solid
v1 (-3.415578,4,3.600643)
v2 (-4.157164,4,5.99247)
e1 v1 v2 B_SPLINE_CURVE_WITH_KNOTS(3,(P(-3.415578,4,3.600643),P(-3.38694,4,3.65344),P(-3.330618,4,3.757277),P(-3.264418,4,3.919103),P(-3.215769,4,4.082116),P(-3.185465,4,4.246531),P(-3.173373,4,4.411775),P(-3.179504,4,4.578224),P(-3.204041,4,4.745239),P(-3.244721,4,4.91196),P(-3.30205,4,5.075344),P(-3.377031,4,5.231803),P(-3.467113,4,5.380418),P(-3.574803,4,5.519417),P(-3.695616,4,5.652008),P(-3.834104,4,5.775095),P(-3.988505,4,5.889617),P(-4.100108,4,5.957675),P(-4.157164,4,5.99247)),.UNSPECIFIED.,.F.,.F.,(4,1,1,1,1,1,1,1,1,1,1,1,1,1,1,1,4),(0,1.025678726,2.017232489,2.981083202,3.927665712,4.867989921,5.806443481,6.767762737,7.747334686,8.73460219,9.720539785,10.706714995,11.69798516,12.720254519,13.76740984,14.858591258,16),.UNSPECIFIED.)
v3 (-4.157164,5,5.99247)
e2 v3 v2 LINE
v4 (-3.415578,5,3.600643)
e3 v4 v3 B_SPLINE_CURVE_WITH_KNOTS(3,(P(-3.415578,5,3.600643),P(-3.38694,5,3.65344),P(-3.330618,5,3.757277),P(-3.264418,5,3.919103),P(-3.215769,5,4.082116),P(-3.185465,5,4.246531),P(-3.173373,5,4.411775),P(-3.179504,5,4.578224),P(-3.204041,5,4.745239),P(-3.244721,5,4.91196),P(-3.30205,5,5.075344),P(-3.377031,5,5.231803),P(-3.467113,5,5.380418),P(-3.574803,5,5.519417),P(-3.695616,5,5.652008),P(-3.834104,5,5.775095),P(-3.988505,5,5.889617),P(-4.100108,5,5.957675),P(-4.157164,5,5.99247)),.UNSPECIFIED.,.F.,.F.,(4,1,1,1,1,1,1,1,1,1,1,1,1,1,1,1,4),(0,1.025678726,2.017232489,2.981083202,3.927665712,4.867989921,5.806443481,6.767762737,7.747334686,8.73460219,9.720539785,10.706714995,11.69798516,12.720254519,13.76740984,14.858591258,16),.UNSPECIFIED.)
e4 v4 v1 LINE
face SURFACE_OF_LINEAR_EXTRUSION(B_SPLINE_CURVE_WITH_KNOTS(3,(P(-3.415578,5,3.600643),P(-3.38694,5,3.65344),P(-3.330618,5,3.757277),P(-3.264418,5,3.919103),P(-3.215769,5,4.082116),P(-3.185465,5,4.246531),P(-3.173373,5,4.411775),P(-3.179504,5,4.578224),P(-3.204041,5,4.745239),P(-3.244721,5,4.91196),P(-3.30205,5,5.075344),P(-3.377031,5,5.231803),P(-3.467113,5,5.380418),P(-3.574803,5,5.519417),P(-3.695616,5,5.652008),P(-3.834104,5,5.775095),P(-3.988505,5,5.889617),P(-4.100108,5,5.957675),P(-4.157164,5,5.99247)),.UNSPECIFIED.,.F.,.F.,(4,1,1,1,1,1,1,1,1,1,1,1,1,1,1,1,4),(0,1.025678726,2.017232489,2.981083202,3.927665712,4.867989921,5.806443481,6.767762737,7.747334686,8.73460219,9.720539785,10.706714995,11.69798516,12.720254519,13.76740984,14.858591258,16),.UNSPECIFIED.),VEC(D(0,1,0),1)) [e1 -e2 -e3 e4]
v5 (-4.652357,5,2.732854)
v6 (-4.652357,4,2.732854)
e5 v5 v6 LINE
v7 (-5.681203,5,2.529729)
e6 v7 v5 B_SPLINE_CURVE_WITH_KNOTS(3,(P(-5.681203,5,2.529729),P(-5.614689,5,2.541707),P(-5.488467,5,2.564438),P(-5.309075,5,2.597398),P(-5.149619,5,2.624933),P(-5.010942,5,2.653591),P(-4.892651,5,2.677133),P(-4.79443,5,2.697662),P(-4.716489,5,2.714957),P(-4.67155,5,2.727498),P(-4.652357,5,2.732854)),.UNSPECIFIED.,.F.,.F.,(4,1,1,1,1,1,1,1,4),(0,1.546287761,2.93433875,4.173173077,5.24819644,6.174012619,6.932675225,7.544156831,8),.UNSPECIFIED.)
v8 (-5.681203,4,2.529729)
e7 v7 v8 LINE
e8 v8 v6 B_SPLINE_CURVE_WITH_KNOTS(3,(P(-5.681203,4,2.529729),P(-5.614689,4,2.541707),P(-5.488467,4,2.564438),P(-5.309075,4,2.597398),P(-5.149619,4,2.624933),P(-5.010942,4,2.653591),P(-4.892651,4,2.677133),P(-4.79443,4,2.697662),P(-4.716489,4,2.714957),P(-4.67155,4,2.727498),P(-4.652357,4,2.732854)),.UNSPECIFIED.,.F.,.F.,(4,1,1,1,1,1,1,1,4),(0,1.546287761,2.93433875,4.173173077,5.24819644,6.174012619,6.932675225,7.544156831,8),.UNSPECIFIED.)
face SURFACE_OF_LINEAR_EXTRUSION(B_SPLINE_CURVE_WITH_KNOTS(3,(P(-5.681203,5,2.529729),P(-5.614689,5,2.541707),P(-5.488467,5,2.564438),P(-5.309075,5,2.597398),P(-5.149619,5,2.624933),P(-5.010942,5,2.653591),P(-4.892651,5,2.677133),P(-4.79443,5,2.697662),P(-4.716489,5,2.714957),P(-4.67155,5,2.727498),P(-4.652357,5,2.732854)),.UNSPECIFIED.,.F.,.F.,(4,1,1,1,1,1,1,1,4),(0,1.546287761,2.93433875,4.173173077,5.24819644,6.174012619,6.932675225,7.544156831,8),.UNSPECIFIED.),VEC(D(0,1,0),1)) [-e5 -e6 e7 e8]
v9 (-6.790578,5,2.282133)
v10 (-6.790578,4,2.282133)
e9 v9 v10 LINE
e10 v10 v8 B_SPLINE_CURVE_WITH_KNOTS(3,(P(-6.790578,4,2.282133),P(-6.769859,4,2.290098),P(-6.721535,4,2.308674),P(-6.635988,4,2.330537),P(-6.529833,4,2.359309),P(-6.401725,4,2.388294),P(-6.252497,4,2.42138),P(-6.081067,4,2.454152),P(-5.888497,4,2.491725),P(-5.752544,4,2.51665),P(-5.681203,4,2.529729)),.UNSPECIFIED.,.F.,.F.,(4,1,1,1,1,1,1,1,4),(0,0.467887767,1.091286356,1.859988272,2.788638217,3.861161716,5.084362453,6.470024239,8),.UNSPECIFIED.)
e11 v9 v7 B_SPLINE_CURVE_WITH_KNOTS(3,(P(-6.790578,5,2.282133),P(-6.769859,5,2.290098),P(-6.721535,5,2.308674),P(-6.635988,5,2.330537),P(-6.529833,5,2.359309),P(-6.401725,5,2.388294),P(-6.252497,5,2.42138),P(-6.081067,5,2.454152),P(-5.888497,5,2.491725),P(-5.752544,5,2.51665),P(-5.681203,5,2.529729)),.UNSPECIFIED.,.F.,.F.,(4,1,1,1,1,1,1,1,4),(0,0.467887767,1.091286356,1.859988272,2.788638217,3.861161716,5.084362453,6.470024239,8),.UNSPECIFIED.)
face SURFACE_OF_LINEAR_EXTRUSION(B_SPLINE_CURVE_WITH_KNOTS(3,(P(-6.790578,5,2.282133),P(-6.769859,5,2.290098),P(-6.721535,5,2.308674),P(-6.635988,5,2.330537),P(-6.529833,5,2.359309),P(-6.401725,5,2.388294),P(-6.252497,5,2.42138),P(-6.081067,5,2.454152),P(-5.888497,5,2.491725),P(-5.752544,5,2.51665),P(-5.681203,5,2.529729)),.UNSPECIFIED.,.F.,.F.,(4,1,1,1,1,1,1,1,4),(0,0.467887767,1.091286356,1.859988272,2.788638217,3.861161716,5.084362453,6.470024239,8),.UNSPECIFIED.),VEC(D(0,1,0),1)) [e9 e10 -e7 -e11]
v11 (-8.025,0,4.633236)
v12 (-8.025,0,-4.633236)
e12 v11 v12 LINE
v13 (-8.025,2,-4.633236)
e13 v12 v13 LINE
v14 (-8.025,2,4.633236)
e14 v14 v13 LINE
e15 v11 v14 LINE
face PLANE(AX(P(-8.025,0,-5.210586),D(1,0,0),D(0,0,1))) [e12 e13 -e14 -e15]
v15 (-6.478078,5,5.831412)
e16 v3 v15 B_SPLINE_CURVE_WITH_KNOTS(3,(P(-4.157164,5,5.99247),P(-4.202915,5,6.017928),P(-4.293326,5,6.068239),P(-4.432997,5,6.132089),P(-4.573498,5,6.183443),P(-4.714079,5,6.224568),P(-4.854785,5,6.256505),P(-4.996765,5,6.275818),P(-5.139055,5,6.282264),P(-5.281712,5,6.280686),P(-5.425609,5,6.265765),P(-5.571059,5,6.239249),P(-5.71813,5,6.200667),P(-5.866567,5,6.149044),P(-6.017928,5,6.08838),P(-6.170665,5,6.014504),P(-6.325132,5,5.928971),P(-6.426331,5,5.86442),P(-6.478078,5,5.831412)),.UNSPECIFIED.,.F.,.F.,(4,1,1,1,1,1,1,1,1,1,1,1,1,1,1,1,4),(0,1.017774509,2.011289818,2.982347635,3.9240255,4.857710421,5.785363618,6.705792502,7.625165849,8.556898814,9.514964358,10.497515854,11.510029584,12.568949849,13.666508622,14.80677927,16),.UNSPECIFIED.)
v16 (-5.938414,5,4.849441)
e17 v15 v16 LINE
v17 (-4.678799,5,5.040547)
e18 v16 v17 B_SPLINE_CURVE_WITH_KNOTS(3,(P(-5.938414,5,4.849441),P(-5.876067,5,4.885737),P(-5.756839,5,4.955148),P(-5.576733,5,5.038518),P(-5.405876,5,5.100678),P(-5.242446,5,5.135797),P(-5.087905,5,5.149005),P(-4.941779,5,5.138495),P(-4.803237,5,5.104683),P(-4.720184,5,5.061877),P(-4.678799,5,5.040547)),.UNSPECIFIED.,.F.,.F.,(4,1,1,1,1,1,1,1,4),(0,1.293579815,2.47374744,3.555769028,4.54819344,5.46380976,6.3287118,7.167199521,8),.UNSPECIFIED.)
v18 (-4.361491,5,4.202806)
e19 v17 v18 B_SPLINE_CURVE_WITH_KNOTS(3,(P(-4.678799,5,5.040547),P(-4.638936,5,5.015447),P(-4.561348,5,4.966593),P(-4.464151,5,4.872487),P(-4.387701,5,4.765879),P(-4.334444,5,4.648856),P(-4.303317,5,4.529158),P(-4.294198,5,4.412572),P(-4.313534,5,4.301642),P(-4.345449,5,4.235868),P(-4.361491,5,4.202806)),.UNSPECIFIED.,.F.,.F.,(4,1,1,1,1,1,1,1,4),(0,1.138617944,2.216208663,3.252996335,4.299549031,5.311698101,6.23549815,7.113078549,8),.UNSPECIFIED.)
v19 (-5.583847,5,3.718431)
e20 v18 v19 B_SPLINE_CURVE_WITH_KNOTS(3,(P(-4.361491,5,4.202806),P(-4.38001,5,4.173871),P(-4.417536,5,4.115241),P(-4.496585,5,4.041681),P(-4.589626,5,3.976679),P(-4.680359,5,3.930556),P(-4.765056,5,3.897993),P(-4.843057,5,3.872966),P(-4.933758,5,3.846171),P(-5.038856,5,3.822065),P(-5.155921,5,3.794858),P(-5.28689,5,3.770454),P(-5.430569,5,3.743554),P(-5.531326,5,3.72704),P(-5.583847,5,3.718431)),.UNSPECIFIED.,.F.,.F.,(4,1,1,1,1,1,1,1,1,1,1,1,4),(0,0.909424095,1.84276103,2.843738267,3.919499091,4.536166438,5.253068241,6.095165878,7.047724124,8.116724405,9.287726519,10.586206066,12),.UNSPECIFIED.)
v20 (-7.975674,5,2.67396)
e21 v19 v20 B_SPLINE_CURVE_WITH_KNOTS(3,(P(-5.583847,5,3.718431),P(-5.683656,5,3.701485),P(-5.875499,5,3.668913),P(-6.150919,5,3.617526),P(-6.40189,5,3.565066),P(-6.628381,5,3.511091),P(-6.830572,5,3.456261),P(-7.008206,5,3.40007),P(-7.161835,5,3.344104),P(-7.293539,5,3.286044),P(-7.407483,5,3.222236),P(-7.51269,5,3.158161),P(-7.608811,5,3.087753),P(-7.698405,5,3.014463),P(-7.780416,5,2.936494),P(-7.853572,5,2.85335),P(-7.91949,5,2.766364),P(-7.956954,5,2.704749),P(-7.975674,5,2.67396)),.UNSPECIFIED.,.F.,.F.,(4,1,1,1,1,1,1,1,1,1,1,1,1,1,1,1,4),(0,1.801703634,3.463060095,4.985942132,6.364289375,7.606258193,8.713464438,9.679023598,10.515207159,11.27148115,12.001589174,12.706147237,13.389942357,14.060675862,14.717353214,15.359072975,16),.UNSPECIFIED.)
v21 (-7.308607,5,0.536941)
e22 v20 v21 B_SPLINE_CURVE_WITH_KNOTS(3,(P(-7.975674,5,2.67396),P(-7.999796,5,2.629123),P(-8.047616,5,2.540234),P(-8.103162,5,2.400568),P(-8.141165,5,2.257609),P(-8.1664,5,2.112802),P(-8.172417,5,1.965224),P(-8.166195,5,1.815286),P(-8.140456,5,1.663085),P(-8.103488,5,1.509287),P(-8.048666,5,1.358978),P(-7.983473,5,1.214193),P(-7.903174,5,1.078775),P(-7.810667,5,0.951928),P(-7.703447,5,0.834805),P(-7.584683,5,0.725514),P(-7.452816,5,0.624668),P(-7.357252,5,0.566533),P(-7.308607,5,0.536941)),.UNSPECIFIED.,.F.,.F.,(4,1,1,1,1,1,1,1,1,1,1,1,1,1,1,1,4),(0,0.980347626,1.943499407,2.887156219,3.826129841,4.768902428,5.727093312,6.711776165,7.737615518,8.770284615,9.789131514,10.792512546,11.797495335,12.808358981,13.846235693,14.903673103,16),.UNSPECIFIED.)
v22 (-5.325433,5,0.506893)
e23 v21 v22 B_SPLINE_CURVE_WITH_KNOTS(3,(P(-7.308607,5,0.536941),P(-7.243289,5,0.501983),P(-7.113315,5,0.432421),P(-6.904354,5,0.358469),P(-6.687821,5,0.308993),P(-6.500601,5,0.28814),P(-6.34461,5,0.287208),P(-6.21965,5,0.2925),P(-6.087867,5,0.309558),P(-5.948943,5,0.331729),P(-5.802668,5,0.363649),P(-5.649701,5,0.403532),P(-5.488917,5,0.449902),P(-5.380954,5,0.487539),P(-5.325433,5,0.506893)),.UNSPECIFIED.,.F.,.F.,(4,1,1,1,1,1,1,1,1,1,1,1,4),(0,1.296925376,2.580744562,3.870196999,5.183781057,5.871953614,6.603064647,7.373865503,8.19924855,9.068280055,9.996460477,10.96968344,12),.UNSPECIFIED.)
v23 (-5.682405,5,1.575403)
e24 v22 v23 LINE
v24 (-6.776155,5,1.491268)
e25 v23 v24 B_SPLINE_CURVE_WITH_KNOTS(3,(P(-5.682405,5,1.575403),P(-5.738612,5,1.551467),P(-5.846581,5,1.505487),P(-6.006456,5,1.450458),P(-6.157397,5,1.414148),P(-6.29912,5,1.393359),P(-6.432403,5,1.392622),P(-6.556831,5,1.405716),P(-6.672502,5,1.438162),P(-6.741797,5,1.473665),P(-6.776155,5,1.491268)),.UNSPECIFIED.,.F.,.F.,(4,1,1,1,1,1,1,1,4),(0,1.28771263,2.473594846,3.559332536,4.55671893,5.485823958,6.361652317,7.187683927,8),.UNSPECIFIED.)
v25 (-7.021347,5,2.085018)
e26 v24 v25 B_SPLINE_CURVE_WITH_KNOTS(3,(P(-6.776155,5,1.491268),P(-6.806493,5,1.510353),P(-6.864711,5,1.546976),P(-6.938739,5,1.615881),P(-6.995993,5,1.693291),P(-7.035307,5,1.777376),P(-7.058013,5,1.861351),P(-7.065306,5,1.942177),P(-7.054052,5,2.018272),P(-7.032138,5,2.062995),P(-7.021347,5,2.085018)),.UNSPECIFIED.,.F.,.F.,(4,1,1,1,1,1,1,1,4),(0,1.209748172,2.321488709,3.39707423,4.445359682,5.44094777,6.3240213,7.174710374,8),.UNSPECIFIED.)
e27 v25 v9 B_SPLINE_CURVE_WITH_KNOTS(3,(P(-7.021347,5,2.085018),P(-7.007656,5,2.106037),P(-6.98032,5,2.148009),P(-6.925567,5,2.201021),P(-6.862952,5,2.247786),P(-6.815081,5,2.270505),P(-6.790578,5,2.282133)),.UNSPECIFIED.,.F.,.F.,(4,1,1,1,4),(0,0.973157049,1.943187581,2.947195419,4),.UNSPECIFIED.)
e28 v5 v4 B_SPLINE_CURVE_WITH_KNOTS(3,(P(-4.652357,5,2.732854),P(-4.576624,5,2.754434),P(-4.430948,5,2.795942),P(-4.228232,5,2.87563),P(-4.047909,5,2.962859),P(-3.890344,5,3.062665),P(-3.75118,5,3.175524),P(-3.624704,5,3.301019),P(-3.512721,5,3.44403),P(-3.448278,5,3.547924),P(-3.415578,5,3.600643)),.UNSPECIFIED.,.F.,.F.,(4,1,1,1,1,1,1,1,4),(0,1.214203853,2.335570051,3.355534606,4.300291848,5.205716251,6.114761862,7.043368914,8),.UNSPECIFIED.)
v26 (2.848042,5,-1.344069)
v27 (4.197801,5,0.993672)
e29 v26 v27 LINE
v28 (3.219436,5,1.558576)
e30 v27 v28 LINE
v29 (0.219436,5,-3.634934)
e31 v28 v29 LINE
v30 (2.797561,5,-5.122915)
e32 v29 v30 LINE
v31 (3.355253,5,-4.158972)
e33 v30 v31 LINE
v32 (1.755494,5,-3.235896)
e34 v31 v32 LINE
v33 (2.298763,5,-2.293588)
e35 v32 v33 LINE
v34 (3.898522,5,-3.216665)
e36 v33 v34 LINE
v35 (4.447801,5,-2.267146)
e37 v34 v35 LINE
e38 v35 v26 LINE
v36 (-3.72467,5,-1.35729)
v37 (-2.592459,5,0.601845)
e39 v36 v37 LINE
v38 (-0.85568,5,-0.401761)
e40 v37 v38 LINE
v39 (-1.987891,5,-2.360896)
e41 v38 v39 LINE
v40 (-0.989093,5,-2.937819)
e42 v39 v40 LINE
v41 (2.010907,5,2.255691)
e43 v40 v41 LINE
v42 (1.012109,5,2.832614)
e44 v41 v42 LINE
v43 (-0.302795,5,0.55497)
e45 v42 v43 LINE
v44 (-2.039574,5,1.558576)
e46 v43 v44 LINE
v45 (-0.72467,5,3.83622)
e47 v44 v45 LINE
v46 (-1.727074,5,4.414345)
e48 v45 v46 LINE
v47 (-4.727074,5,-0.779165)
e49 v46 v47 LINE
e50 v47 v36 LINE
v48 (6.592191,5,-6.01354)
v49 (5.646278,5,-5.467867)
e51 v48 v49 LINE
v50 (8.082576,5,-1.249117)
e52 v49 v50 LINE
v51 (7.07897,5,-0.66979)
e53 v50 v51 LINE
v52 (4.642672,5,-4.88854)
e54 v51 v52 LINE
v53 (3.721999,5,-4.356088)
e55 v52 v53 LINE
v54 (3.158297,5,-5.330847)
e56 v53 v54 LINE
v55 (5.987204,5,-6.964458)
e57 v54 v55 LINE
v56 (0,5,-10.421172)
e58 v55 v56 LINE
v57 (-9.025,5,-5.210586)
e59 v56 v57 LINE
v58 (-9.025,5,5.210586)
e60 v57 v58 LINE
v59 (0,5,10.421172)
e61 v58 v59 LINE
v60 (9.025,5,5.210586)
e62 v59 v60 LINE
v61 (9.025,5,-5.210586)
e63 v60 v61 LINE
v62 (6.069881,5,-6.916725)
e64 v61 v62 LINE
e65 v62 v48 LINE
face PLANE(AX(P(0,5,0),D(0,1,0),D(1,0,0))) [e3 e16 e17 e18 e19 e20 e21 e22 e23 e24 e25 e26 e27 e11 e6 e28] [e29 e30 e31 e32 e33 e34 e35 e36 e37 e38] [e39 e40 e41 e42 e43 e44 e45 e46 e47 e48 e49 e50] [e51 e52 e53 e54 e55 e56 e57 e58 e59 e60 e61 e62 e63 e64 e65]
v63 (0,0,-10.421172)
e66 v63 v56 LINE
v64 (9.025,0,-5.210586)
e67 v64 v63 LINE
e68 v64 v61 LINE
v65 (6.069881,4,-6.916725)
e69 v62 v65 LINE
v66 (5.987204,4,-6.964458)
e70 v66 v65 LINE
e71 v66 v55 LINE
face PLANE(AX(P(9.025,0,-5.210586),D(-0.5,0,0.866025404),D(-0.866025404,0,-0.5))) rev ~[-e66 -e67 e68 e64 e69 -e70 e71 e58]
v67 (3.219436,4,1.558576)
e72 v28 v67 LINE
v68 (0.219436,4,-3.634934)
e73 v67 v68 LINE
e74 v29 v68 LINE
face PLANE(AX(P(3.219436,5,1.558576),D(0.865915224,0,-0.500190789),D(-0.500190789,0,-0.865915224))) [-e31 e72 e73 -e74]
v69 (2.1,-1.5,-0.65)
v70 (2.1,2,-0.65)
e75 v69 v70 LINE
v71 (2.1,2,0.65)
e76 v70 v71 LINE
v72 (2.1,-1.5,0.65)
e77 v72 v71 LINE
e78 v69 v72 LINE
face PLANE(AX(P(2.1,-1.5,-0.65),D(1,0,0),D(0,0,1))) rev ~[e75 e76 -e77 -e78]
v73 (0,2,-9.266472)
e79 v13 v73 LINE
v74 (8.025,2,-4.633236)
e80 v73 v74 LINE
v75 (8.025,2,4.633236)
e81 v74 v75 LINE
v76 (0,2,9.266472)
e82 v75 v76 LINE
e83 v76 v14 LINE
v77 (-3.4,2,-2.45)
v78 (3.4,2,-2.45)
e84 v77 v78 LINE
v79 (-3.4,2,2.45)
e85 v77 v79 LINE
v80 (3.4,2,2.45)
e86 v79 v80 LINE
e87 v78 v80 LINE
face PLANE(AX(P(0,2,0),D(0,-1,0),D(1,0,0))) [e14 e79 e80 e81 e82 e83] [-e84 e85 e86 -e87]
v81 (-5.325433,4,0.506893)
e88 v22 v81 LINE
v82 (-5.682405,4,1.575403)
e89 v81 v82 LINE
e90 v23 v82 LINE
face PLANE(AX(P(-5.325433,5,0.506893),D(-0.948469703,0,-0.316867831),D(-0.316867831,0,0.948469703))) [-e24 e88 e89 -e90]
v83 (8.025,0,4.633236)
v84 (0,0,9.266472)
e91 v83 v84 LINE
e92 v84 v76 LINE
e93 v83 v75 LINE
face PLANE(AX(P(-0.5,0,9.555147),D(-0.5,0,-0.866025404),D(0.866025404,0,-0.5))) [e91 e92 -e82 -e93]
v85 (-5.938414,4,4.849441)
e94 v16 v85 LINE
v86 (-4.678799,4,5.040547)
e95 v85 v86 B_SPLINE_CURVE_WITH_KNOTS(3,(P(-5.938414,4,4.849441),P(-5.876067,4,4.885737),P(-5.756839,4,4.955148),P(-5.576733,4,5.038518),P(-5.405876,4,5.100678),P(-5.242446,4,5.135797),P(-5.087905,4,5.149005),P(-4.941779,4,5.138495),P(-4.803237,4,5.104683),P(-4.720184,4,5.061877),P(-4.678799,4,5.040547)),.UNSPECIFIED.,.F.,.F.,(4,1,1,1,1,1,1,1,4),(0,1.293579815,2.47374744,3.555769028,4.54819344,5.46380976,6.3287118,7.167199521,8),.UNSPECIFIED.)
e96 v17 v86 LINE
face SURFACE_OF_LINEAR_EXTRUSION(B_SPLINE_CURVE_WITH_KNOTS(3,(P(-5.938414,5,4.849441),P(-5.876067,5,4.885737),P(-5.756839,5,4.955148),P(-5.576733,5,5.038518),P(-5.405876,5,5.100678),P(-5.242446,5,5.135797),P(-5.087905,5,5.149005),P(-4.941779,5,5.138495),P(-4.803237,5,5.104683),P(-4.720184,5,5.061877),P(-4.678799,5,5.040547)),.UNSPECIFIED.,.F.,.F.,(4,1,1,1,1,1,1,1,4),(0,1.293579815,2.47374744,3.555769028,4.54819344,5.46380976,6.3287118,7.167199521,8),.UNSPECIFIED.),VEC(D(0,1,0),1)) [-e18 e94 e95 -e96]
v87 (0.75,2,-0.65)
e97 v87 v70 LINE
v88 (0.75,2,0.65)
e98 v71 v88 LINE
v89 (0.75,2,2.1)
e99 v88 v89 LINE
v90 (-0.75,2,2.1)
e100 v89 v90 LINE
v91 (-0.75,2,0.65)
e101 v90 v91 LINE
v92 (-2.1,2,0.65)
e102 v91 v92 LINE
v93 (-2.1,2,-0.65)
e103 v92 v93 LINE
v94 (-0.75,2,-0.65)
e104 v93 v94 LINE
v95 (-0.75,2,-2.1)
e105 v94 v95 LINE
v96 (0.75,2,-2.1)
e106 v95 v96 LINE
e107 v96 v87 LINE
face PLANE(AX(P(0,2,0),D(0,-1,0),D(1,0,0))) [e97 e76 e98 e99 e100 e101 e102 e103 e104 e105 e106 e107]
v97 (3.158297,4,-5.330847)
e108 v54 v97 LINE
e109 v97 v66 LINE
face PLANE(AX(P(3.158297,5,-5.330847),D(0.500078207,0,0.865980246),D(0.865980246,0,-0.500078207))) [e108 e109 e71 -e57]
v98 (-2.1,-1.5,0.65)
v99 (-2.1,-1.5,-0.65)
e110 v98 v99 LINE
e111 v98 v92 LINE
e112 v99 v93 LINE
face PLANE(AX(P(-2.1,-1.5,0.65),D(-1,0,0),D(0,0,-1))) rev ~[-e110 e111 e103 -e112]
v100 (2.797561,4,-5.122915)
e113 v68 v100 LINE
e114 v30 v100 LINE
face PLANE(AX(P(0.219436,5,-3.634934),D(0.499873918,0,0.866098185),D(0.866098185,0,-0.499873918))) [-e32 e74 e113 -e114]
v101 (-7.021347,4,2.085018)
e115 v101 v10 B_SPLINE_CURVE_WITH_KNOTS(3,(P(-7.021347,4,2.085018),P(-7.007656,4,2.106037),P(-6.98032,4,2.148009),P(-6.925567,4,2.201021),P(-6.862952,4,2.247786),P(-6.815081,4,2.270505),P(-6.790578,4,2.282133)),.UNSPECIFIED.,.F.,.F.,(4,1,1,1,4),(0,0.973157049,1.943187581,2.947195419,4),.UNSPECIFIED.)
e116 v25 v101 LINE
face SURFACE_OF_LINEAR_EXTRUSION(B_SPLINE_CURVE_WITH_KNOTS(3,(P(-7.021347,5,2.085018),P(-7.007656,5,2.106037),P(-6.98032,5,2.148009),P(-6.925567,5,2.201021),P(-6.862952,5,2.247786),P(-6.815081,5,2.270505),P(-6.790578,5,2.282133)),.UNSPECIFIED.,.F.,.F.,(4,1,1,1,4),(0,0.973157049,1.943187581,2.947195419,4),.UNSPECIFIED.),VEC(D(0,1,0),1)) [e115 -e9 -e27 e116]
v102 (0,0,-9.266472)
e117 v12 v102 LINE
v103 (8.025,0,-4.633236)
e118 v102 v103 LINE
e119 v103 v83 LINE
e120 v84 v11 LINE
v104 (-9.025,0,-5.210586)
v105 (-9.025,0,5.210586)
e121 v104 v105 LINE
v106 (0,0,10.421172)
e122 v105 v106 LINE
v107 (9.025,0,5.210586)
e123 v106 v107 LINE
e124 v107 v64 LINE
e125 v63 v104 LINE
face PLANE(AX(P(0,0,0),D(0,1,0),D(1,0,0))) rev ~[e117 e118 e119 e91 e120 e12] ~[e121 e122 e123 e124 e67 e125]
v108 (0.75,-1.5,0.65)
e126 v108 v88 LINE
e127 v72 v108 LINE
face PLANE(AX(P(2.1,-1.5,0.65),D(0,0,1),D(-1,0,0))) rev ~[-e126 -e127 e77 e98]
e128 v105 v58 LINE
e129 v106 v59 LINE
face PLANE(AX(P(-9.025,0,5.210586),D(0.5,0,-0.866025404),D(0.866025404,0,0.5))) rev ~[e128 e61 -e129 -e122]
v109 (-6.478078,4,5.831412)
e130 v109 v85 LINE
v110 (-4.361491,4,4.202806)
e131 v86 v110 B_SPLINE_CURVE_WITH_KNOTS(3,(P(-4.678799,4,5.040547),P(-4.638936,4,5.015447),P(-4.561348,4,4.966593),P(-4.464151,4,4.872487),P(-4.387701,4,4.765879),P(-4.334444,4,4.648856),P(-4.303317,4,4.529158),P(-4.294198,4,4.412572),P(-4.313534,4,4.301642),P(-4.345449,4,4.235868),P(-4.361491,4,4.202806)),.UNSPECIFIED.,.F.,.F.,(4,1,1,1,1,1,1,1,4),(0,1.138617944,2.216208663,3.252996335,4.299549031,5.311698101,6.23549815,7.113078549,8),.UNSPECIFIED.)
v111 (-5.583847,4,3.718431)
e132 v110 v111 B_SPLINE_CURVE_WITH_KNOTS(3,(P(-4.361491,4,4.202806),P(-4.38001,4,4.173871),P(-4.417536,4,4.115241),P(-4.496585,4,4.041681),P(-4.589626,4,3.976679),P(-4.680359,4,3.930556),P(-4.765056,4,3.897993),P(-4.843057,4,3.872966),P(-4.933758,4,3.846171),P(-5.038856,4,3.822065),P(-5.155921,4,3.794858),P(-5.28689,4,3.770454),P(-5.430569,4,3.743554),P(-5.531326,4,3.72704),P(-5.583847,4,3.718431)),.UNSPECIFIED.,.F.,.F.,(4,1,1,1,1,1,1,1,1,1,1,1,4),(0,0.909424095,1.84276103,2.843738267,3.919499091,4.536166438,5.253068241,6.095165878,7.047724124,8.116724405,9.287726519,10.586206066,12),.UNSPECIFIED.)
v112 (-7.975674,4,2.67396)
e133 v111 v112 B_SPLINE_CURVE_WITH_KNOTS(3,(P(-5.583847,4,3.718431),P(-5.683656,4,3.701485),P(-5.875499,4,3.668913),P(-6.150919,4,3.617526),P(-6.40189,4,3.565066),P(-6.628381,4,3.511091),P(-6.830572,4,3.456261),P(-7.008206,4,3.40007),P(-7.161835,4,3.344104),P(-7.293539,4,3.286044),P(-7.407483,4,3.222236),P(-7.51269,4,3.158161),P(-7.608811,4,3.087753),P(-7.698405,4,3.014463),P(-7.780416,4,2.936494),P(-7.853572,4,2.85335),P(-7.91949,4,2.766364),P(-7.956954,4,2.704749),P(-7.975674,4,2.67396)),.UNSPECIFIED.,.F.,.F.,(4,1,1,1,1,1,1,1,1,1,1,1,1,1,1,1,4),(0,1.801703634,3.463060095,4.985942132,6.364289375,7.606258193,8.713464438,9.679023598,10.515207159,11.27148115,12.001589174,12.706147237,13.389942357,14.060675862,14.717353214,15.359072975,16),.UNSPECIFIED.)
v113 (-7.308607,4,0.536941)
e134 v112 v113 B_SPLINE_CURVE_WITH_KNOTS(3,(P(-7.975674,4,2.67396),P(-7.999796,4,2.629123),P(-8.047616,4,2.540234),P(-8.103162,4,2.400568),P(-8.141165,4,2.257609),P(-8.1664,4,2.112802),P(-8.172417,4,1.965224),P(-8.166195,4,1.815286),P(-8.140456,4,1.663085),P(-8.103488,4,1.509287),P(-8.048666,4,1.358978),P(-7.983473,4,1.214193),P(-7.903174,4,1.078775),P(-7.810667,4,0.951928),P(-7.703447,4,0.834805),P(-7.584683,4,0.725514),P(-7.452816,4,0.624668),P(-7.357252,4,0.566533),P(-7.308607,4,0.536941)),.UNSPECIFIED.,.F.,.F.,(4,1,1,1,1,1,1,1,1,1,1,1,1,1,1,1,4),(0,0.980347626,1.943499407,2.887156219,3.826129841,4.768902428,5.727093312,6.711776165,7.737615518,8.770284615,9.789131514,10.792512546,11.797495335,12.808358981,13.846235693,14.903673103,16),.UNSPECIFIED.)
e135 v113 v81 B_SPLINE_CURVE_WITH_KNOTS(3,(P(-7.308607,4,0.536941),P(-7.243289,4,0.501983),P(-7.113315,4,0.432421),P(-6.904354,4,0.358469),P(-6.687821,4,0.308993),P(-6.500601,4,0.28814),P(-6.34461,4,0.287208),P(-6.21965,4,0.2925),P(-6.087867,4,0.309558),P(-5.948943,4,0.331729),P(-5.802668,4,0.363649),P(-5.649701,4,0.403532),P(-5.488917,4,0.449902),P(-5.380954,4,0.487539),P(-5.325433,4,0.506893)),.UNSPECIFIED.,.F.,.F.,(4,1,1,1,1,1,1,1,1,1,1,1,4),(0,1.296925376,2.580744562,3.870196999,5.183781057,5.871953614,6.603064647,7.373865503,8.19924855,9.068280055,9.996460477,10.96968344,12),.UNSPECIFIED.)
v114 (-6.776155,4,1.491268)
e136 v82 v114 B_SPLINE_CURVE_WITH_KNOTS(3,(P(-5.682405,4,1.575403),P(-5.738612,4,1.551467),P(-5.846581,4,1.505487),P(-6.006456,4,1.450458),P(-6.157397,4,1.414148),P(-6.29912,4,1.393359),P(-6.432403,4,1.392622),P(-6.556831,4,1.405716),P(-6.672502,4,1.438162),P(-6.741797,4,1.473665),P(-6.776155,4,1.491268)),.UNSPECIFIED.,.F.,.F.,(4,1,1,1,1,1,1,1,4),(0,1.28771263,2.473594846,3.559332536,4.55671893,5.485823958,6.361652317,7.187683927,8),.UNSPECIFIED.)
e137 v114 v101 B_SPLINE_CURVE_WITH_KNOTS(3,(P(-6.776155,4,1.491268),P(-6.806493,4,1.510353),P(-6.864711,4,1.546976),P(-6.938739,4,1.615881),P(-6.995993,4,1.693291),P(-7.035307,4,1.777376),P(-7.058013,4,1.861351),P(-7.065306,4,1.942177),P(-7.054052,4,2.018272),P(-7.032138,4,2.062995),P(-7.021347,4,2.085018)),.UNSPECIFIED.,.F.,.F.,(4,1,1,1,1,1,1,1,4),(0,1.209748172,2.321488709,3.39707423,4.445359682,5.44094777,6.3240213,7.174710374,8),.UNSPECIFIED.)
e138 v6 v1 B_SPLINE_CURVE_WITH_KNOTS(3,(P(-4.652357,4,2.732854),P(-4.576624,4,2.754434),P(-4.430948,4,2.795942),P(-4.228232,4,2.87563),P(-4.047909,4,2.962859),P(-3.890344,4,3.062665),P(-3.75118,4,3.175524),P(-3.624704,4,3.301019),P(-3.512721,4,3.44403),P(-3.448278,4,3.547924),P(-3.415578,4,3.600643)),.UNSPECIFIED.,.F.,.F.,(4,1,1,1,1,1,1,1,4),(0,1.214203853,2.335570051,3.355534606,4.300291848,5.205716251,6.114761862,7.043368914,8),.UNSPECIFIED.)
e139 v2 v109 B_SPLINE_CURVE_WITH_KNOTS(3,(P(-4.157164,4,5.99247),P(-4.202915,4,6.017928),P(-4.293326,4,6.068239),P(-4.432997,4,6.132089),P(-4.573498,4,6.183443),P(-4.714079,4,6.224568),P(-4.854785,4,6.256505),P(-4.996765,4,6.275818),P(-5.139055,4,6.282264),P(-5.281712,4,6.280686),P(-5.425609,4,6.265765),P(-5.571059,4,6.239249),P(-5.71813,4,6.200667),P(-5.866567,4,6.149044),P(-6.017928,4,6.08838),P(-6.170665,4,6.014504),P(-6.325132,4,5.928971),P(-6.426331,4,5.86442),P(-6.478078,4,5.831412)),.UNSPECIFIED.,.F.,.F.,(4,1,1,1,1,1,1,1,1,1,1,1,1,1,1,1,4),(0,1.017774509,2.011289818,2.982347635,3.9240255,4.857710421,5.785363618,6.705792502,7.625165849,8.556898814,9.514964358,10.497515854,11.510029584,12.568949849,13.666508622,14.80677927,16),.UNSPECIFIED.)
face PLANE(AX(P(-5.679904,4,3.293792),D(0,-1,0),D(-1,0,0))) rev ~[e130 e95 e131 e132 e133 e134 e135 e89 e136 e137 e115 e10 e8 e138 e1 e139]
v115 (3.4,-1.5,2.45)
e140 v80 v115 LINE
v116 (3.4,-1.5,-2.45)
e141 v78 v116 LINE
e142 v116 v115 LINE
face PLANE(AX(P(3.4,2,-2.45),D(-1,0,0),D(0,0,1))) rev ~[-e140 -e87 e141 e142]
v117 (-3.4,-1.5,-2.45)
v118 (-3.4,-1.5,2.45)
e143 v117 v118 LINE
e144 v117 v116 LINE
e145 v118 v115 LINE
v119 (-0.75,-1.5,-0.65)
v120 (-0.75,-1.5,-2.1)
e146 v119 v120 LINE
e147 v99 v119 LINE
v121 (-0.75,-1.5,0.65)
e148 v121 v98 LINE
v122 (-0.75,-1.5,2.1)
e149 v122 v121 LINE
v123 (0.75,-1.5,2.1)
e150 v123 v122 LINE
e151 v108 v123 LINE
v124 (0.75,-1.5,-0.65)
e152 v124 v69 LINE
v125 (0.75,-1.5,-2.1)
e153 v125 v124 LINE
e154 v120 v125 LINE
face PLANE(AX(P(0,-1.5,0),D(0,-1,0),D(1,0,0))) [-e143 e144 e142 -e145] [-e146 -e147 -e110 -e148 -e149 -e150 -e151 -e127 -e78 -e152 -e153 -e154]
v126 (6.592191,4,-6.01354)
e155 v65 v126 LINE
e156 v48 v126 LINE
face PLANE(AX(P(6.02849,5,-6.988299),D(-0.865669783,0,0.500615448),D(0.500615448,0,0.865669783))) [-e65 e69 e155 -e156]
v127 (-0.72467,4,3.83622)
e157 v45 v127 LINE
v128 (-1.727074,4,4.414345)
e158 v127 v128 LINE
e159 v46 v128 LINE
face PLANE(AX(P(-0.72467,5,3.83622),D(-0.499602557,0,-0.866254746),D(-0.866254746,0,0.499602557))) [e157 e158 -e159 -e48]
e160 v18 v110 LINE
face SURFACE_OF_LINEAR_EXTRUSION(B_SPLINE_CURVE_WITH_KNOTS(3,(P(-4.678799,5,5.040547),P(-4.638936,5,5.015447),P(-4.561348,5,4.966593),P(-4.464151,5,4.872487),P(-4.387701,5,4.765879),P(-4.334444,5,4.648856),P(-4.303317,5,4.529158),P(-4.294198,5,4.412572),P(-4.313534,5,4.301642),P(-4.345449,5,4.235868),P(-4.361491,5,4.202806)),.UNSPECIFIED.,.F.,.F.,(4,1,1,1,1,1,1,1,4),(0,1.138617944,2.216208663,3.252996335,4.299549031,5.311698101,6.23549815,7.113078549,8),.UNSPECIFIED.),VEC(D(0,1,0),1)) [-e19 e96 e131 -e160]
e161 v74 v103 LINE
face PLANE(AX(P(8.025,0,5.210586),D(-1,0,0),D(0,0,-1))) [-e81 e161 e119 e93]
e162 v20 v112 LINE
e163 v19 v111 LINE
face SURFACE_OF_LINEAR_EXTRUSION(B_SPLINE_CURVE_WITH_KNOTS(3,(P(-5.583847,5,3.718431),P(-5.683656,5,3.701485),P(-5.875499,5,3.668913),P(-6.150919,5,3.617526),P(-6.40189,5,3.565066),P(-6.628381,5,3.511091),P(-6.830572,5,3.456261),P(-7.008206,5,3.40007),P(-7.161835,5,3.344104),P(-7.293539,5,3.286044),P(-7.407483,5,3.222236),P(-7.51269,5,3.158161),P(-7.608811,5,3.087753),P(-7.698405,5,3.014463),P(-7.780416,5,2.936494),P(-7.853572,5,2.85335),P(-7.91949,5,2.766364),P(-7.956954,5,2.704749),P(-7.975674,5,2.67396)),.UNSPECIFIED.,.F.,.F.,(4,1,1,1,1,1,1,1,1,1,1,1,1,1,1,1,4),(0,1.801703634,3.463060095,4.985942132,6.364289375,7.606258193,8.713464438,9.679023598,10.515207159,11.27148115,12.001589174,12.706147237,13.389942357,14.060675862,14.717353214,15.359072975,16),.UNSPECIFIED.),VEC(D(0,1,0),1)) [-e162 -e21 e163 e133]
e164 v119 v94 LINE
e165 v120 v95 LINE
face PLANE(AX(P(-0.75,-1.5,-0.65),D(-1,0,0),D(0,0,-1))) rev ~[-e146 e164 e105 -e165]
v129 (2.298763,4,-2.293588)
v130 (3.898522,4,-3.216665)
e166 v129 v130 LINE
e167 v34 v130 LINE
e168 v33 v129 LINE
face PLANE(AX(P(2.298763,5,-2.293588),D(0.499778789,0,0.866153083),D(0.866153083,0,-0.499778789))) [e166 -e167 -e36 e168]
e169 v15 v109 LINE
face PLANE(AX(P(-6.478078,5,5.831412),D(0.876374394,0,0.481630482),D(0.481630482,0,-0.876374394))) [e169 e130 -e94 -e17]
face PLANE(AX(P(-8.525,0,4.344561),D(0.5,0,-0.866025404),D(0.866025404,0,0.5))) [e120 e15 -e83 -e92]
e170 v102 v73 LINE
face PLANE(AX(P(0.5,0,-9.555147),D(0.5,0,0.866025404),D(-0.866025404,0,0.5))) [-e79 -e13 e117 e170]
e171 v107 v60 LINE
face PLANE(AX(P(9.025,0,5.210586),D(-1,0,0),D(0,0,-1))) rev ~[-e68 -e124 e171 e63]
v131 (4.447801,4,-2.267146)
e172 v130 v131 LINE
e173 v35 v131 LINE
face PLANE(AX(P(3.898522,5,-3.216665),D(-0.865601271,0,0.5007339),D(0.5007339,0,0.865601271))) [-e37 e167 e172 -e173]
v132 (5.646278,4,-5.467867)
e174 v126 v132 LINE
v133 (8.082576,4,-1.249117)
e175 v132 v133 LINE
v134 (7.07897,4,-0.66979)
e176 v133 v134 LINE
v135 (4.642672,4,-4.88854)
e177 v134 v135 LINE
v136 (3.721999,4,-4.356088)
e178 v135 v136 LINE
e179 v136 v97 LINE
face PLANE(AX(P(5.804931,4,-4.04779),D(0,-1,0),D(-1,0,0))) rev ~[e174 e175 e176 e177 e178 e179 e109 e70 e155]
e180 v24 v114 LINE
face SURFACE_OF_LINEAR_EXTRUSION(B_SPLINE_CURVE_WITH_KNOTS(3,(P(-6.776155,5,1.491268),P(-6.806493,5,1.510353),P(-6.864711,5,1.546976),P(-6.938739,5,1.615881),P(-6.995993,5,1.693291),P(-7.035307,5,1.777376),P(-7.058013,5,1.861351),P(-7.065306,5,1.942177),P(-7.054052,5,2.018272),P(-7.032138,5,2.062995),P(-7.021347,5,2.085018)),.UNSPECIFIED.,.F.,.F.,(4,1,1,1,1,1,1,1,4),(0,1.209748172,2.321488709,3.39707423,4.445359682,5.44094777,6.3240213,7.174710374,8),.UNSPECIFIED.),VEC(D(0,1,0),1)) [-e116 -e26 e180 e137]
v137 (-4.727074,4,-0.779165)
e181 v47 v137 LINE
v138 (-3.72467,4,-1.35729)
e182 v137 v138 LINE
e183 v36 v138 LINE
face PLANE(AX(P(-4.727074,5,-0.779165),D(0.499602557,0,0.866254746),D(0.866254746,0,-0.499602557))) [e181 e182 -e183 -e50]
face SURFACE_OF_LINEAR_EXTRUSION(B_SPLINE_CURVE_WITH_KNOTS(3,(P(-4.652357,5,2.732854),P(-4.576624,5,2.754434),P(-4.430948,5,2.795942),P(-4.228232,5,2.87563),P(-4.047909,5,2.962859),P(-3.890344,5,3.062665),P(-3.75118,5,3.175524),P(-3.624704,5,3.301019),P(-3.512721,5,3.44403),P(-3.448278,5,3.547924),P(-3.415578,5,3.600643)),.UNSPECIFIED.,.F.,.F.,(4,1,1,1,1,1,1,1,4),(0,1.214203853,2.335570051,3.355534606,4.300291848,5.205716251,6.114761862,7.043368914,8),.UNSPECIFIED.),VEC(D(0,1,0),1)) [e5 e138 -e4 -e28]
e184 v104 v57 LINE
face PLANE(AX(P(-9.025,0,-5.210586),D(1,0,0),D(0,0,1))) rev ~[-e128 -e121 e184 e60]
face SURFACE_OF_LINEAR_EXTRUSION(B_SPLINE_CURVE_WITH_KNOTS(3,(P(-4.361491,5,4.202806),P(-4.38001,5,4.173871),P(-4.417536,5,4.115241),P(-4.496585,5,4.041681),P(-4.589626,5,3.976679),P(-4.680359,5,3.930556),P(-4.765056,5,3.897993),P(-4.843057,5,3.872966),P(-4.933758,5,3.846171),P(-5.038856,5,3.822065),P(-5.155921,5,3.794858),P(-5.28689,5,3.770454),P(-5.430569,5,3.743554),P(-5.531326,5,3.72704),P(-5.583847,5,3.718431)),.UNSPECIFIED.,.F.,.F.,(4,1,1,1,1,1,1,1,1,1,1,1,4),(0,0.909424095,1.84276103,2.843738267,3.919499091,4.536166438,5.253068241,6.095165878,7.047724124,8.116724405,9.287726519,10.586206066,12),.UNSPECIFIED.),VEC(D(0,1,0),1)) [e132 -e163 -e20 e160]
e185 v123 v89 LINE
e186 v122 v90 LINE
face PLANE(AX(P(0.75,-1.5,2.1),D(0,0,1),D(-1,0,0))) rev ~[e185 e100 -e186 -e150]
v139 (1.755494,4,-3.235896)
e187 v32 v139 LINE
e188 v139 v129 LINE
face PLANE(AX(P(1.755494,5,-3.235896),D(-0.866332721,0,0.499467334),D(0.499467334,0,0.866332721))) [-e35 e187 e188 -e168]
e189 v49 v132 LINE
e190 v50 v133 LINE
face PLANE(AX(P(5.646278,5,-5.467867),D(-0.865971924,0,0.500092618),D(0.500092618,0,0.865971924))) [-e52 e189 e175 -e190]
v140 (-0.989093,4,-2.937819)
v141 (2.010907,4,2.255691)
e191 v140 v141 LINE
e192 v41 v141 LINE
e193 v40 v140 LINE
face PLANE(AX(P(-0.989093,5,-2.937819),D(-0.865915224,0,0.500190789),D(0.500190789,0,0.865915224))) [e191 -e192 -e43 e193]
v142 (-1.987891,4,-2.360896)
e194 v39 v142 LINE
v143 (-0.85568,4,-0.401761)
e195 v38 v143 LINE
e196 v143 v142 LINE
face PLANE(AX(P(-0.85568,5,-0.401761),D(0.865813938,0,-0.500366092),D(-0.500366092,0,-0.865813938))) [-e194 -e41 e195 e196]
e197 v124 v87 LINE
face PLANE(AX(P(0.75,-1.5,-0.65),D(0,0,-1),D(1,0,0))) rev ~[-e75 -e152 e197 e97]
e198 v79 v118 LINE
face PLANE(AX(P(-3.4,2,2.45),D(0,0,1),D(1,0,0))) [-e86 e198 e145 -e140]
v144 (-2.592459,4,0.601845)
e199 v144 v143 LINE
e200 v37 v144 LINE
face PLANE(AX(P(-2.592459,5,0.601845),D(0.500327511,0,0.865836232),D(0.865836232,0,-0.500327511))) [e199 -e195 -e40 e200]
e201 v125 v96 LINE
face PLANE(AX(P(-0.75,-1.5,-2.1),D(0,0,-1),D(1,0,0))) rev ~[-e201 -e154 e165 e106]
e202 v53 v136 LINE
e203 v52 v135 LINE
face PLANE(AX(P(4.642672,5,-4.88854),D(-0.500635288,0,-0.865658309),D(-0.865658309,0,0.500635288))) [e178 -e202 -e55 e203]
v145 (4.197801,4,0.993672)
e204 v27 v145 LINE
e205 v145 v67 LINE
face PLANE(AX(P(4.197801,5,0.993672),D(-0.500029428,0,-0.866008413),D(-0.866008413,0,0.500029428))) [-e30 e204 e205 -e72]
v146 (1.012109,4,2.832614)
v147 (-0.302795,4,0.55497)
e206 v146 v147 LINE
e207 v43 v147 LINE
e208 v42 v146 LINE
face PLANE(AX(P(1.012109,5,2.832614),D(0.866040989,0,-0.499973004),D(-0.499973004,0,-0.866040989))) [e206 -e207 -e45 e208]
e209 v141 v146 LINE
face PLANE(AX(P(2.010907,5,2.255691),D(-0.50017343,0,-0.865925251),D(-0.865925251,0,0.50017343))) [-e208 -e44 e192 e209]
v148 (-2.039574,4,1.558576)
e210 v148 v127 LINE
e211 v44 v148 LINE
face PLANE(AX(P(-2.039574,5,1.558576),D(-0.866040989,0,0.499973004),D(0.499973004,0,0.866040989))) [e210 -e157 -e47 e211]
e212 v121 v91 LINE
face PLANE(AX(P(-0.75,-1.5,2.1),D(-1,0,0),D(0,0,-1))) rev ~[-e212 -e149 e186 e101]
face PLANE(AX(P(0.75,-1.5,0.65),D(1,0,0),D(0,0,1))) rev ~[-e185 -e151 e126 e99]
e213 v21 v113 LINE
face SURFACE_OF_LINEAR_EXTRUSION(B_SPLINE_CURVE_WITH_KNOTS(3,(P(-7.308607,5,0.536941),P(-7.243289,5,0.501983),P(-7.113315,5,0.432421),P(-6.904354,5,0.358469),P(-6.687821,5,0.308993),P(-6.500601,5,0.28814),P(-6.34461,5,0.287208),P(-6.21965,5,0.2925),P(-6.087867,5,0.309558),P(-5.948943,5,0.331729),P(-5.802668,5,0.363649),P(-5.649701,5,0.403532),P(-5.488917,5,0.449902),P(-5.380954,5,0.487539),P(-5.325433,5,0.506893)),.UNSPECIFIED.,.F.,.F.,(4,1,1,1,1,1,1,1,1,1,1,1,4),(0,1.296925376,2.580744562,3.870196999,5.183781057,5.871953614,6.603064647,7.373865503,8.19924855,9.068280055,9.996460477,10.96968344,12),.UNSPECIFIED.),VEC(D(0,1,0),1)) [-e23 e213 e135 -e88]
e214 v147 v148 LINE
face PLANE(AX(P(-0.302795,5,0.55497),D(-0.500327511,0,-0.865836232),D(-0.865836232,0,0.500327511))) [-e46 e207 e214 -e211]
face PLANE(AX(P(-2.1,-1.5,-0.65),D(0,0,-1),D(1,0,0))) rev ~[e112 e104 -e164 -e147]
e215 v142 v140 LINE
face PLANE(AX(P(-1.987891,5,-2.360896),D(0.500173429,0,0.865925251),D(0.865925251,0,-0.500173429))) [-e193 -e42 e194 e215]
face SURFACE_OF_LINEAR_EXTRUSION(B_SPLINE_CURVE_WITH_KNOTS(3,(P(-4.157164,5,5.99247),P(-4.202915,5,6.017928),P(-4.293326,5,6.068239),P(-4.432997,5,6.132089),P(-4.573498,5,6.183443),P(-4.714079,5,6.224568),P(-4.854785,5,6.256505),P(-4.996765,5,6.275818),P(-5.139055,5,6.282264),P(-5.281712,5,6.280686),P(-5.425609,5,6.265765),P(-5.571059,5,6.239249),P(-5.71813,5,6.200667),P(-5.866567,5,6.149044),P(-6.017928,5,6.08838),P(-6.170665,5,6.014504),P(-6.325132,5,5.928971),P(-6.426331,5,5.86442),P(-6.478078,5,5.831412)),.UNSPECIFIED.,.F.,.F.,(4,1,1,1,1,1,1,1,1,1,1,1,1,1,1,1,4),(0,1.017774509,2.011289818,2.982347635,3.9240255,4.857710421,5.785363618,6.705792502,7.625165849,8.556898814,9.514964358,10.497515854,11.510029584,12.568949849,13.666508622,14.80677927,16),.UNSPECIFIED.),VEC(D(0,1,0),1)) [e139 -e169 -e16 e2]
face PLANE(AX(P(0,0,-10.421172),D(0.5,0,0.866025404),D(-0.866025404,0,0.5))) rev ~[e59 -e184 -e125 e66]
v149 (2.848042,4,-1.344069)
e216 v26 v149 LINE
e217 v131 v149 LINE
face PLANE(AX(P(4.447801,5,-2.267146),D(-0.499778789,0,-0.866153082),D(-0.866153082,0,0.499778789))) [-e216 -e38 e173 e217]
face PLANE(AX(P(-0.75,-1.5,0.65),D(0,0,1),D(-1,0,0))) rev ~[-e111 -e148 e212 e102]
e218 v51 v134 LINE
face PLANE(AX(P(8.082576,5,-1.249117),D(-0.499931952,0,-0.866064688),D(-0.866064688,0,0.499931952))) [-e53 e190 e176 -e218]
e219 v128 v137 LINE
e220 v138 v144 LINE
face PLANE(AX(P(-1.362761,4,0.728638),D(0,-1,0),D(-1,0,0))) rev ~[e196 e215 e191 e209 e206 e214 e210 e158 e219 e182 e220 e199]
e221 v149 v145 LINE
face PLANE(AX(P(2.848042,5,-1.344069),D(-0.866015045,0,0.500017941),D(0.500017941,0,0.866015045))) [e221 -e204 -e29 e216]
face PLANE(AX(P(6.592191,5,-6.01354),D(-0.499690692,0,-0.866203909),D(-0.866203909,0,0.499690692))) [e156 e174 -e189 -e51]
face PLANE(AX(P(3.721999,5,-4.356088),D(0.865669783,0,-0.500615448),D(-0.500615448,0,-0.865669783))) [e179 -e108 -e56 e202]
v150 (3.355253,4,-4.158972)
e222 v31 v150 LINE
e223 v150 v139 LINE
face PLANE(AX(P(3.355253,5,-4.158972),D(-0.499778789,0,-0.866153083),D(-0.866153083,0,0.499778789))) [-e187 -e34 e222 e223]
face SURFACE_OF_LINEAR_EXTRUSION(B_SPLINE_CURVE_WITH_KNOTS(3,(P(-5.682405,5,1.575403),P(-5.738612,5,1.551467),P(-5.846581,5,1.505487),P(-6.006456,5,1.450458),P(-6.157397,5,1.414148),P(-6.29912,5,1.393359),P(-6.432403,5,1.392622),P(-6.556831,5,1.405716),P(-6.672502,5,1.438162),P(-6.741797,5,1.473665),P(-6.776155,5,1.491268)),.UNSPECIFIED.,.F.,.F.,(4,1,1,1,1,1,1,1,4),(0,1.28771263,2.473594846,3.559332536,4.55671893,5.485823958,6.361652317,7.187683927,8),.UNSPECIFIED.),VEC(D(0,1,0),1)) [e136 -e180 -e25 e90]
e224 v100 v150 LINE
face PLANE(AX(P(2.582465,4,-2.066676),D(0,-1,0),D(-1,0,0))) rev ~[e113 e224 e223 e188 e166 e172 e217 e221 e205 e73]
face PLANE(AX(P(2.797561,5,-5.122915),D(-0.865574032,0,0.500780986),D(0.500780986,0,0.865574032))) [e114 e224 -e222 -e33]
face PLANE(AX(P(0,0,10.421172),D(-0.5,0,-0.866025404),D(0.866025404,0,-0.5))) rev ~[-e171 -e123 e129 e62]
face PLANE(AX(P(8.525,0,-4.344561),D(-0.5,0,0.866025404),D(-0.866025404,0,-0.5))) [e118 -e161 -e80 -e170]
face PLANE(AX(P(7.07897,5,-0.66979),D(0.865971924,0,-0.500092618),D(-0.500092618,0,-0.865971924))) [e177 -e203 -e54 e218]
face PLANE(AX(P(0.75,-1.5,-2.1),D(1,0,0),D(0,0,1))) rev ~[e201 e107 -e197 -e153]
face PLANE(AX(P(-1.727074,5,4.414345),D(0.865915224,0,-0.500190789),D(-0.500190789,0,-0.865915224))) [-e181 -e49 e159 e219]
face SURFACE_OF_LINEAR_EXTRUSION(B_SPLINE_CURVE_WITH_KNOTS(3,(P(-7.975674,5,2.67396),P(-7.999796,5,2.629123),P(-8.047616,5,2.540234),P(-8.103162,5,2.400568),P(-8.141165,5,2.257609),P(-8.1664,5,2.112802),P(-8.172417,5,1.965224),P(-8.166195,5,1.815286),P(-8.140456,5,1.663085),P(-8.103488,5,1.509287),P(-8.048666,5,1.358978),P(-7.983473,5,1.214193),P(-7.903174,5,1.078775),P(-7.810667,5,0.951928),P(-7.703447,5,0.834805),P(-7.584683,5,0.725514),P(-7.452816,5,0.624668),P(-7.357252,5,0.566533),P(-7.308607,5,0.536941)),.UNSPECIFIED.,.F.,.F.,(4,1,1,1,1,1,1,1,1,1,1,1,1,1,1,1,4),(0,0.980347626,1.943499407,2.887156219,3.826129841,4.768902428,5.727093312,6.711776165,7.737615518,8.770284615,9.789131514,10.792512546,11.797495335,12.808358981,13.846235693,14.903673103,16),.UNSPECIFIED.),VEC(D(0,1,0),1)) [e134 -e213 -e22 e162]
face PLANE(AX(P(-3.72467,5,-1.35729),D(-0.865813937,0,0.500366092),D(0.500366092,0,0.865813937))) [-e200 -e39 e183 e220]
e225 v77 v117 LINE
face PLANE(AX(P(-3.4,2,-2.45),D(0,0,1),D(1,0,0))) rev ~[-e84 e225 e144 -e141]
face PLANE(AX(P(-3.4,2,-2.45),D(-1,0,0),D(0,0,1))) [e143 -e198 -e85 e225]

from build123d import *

# Parameters (mm, degrees)
BOSS_EXTRUDE1_DEPTH = 5
SHELL1_T            = -1
BOSS_EXTRUDE2_DEPTH = 2
SKETCH3_W           = 6.8
SKETCH3_H           = 4.9
BOSS_EXTRUDE3_DEPTH = 3.5
CUT_EXTRUDE1_DEPTH  = 3.5
CUT_EXTRUDE2_DEPTH  = 1


with BuildPart() as part:
    # Sketch1 → Boss-Extrude1 (new body)
    with BuildSketch(Plane(origin=(0, 0, 0), x_dir=(1, 0, 0), z_dir=(0, 1, 0))):
        Polygon((9.025, 5.210586179), (0, 10.421172359), (-9.025, 5.210586179), (-9.025, -5.210586179), (0, -10.421172359), (9.025, -5.210586179), align=None)
    extrude(amount=BOSS_EXTRUDE1_DEPTH)

    # Shell1
    shell1_openings = [part.faces().sort_by_distance(p)[0] for p in [
        (0, 0, 0),
    ]]
    offset(amount=SHELL1_T, openings=shell1_openings, kind=Kind.INTERSECTION)

    # Sketch2 → Boss-Extrude2 (add)
    with BuildSketch(Plane.XZ.offset(-4)):
        Polygon((8.025, -4.63323591), (8.025, 4.63323591), (0, 9.26647182), (-8.025, 4.63323591), (-8.025, -4.63323591), (0, -9.26647182), align=None)
    extrude(amount=BOSS_EXTRUDE2_DEPTH)

    # Sketch3 → Boss-Extrude3 (add)
    with BuildSketch(Plane.XZ.offset(-2)):
        Rectangle(SKETCH3_W, SKETCH3_H)
    extrude(amount=BOSS_EXTRUDE3_DEPTH)

    # Sketch4 → Cut-Extrude1 (cut)
    with BuildSketch(Plane.XZ.offset(1.5)):
        Polygon((2.1, -0.65), (2.1, 0.65), (0.75, 0.65), (0.75, 2.1), (-0.75, 2.1), (-0.75, 0.65), (-2.1, 0.65), (-2.1, -0.65), (-0.75, -0.65), (-0.75, -2.1), (0.75, -2.1), (0.75, -0.65), align=None)
    extrude(amount=-CUT_EXTRUDE1_DEPTH, mode=Mode.SUBTRACT)

    # Sketch5 → Cut-Extrude2 (cut)
    with BuildSketch(Plane(origin=(0, 5, 0), x_dir=(1, 0, 0), z_dir=(0, 1, 0))):
        with BuildLine():
            Line((-5.325433461, -0.506892934), (-5.682404615, -1.575402549))
            add(Edge.make_bspline(
                [(-5.682404615, -1.575402549), (-5.738611571, -1.55146657), (-5.846580721, -1.505487433), (-6.00645553, -1.450457601), (-6.157396888, -1.414148084), (-6.299119737, -1.39335946), (-6.432402529, -1.39262203), (-6.556831326, -1.405715783), (-6.672502146, -1.438161724), (-6.741797161, -1.473664937), (-6.776154615, -1.491267934)],
                knots=[0, 0, 0, 0, 1.28771263, 2.473594846, 3.559332536, 4.55671893, 5.485823958, 6.361652317, 7.187683927, 8, 8, 8, 8], degree=3))
            add(Edge.make_bspline(
                [(-6.776154615, -1.491267934), (-6.806492545, -1.510352721), (-6.864710582, -1.546976143), (-6.938739485, -1.61588131), (-6.99599337, -1.693290765), (-7.035307029, -1.777376197), (-7.058013134, -1.861350567), (-7.065305532, -1.942177188), (-7.054051685, -2.018272363), (-7.032137808, -2.062995336), (-7.021346922, -2.085017934)],
                knots=[0, 0, 0, 0, 1.209748172, 2.321488709, 3.39707423, 4.445359682, 5.44094777, 6.3240213, 7.174710374, 8, 8, 8, 8], degree=3))
            add(Edge.make_bspline(
                [(-7.021346922, -2.085017934), (-7.007656472, -2.106037373), (-6.980319555, -2.148008721), (-6.925567054, -2.201021253), (-6.862951825, -2.247786346), (-6.815080973, -2.270504668), (-6.790577692, -2.282133319)],
                knots=[0, 0, 0, 0, 0.973157049, 1.943187581, 2.947195419, 4, 4, 4, 4], degree=3))
            add(Edge.make_bspline(
                [(-6.790577692, -2.282133319), (-6.769858792, -2.290097745), (-6.7215347, -2.308673716), (-6.63598808, -2.33053668), (-6.529832527, -2.359308535), (-6.401725396, -2.388293787), (-6.252497256, -2.421379678), (-6.081066664, -2.454151642), (-5.88849741, -2.491724711), (-5.752544005, -2.516649981), (-5.681202692, -2.529729472)],
                knots=[0, 0, 0, 0, 0.467887767, 1.091286356, 1.859988272, 2.788638217, 3.861161716, 5.084362453, 6.470024239, 8, 8, 8, 8], degree=3))
            add(Edge.make_bspline(
                [(-5.681202692, -2.529729472), (-5.614688545, -2.541707449), (-5.488466865, -2.564437657), (-5.309075132, -2.597398063), (-5.149619325, -2.624932828), (-5.010942301, -2.653591474), (-4.892650506, -2.677133355), (-4.794430155, -2.697661701), (-4.716489125, -2.714957182), (-4.671549695, -2.727498295), (-4.652356538, -2.732854472)],
                knots=[0, 0, 0, 0, 1.546287761, 2.93433875, 4.173173077, 5.24819644, 6.174012619, 6.932675225, 7.544156831, 8, 8, 8, 8], degree=3))
            add(Edge.make_bspline(
                [(-4.652356538, -2.732854472), (-4.576623584, -2.754433542), (-4.430948197, -2.795941753), (-4.228232443, -2.875630456), (-4.047908963, -2.962859498), (-3.890344122, -3.062664527), (-3.751179655, -3.17552418), (-3.624703925, -3.301019132), (-3.512720637, -3.444029872), (-3.448277986, -3.547923786), (-3.415577692, -3.600642934)],
                knots=[0, 0, 0, 0, 1.214203853, 2.335570051, 3.355534606, 4.300291848, 5.205716251, 6.114761862, 7.043368914, 8, 8, 8, 8], degree=3))
            add(Edge.make_bspline(
                [(-3.415577692, -3.600642934), (-3.386940184, -3.653439855), (-3.330617955, -3.757277112), (-3.264417801, -3.919102949), (-3.215768933, -4.082115905), (-3.185465465, -4.246531266), (-3.173372547, -4.41177459), (-3.179504364, -4.578223869), (-3.204041341, -4.745238515), (-3.244721037, -4.911960498), (-3.30204991, -5.075343685), (-3.377031051, -5.231803254), (-3.467113417, -5.380417938), (-3.574802899, -5.519417001), (-3.695616106, -5.652007924), (-3.834104159, -5.775095202), (-3.988505341, -5.889617335), (-4.100107682, -5.957675309), (-4.15716423, -5.992469857)],
                knots=[0, 0, 0, 0, 1.025678726, 2.017232489, 2.981083202, 3.927665712, 4.867989921, 5.806443481, 6.767762737, 7.747334686, 8.73460219, 9.720539785, 10.706714995, 11.69798516, 12.720254519, 13.76740984, 14.858591258, 16, 16, 16, 16], degree=3))
            add(Edge.make_bspline(
                [(-4.15716423, -5.992469857), (-4.2029151, -6.017928425), (-4.293326345, -6.068238741), (-4.43299698, -6.132088815), (-4.573498408, -6.183443266), (-4.714079103, -6.224567518), (-4.854784589, -6.256505215), (-4.996764563, -6.275817947), (-5.139055192, -6.282263566), (-5.281711595, -6.280685803), (-5.425609337, -6.265765459), (-5.571059365, -6.239249342), (-5.718130016, -6.200666559), (-5.86656675, -6.149043701), (-6.01792839, -6.088380432), (-6.170664985, -6.014503942), (-6.325132479, -5.928971262), (-6.426330514, -5.864420115), (-6.478077692, -5.831412165)],
                knots=[0, 0, 0, 0, 1.017774509, 2.011289818, 2.982347635, 3.9240255, 4.857710421, 5.785363618, 6.705792502, 7.625165849, 8.556898814, 9.514964358, 10.497515854, 11.510029584, 12.568949849, 13.666508622, 14.80677927, 16, 16, 16, 16], degree=3))
            Line((-6.478077692, -5.831412165), (-5.93841423, -4.849441011))
            add(Edge.make_bspline(
                [(-5.93841423, -4.849441011), (-5.876066943, -4.885737418), (-5.756838552, -4.955148012), (-5.576733209, -5.038518479), (-5.405875784, -5.100678252), (-5.242445562, -5.135796737), (-5.0879048, -5.149004574), (-4.941778751, -5.138495445), (-4.803236577, -5.10468289), (-4.720183882, -5.061876928), (-4.678798845, -5.04054678)],
                knots=[0, 0, 0, 0, 1.293579815, 2.47374744, 3.555769028, 4.54819344, 5.46380976, 6.3287118, 7.167199521, 8, 8, 8, 8], degree=3))
            add(Edge.make_bspline(
                [(-4.678798845, -5.04054678), (-4.638936237, -5.015446967), (-4.561347561, -4.966592631), (-4.464150913, -4.872487164), (-4.387701145, -4.765879064), (-4.334443541, -4.648855696), (-4.303317377, -4.529157536), (-4.294197846, -4.412572162), (-4.313533945, -4.301642045), (-4.345449099, -4.235867679), (-4.361491153, -4.202806396)],
                knots=[0, 0, 0, 0, 1.138617944, 2.216208663, 3.252996335, 4.299549031, 5.311698101, 6.23549815, 7.113078549, 8, 8, 8, 8], degree=3))
            add(Edge.make_bspline(
                [(-4.361491153, -4.202806396), (-4.380010417, -4.173871492), (-4.4175359, -4.115240856), (-4.4965852, -4.041680531), (-4.589626245, -3.976678965), (-4.680359291, -3.930555918), (-4.765056268, -3.897993387), (-4.843056545, -3.872966048), (-4.933757848, -3.846171338), (-5.038856401, -3.822065238), (-5.155920712, -3.794858002), (-5.286890039, -3.77045363), (-5.430568678, -3.743553698), (-5.531326246, -3.727039534), (-5.583846922, -3.718431396)],
                knots=[0, 0, 0, 0, 0.909424095, 1.84276103, 2.843738267, 3.919499091, 4.536166438, 5.253068241, 6.095165878, 7.047724124, 8.116724405, 9.287726519, 10.586206066, 12, 12, 12, 12], degree=3))
            add(Edge.make_bspline(
                [(-5.583846922, -3.718431396), (-5.683655771, -3.701485292), (-5.875498665, -3.668913133), (-6.150918918, -3.617525985), (-6.401889951, -3.56506577), (-6.628381182, -3.511091226), (-6.830571857, -3.456261035), (-7.008205883, -3.400069991), (-7.161834982, -3.344104119), (-7.293538663, -3.286043885), (-7.407482868, -3.222236129), (-7.512689732, -3.158161164), (-7.608810661, -3.087752964), (-7.698405428, -3.014463112), (-7.780415921, -2.936493879), (-7.853571897, -2.853349852), (-7.919489932, -2.766364229), (-7.956953592, -2.704748877), (-7.975673845, -2.673960242)],
                knots=[0, 0, 0, 0, 1.801703634, 3.463060095, 4.985942132, 6.364289375, 7.606258193, 8.713464438, 9.679023598, 10.515207159, 11.27148115, 12.001589174, 12.706147237, 13.389942357, 14.060675862, 14.717353214, 15.359072975, 16, 16, 16, 16], degree=3))
            add(Edge.make_bspline(
                [(-7.975673845, -2.673960242), (-7.999795613, -2.629122769), (-8.047616039, -2.540234299), (-8.103161683, -2.400567973), (-8.141164791, -2.257609045), (-8.166399838, -2.112801598), (-8.172416775, -1.965223955), (-8.166195079, -1.81528572), (-8.140455592, -1.663084625), (-8.103487814, -1.509287165), (-8.048666477, -1.358978393), (-7.983473223, -1.214192623), (-7.903174289, -1.078774796), (-7.810666895, -0.951928095), (-7.703446581, -0.834805086), (-7.584683375, -0.725513924), (-7.452816447, -0.6246676), (-7.357251696, -0.566533109), (-7.308606538, -0.536941011)],
                knots=[0, 0, 0, 0, 0.980347626, 1.943499407, 2.887156219, 3.826129841, 4.768902428, 5.727093312, 6.711776165, 7.737615518, 8.770284615, 9.789131514, 10.792512546, 11.797495335, 12.808358981, 13.846235693, 14.903673103, 16, 16, 16, 16], degree=3))
            add(Edge.make_bspline(
                [(-7.308606538, -0.536941011), (-7.243289176, -0.501983178), (-7.113314521, -0.43242078), (-6.904353926, -0.35846878), (-6.687820942, -0.308992515), (-6.500600952, -0.28813955), (-6.344609626, -0.287208489), (-6.219649665, -0.29249956), (-6.087866756, -0.309558499), (-5.948942979, -0.331728905), (-5.802667888, -0.363649134), (-5.649701479, -0.403532254), (-5.488917483, -0.449902409), (-5.38095366, -0.487538594), (-5.325433461, -0.506892934)],
                knots=[0, 0, 0, 0, 1.296925376, 2.580744562, 3.870196999, 5.183781057, 5.871953614, 6.603064647, 7.373865503, 8.19924855, 9.068280055, 9.996460477, 10.96968344, 12, 12, 12, 12], degree=3))
        make_face()
        Polygon((-4.727074029, 0.779164758), (-3.724670183, 1.357289758), (-2.592458644, -0.601844857), (-0.855679798, 0.401760912), (-1.987891337, 2.360895528), (-0.98909326, 2.937818604), (2.01090674, -2.255691011), (1.012108663, -2.832614088), (-0.302795183, -0.554969857), (-2.039574029, -1.558575626), (-0.724670183, -3.836219857), (-1.727074029, -4.414344857), align=None)
        Polygon((0.219435962, 3.634933989), (2.797560962, 5.122914758), (3.355253269, 4.158972451), (1.755493654, 3.235895528), (2.298762885, 2.293587835), (3.8985225, 3.216664758), (4.447801346, 2.267145528), (2.848041731, 1.344068604), (4.197801346, -0.99367178), (3.219435962, -1.558575626), align=None)
        Polygon((3.158297192, 5.330847451), (6.0284895, 6.988299374), (6.592191423, 6.013539758), (5.646277961, 5.467866681), (8.082576038, 1.249116681), (7.078970269, 0.669789758), (4.642672192, 4.888539758), (3.721999115, 4.356087835), align=None)
    extrude(amount=-CUT_EXTRUDE2_DEPTH, mode=Mode.SUBTRACT)


solid = part.part
